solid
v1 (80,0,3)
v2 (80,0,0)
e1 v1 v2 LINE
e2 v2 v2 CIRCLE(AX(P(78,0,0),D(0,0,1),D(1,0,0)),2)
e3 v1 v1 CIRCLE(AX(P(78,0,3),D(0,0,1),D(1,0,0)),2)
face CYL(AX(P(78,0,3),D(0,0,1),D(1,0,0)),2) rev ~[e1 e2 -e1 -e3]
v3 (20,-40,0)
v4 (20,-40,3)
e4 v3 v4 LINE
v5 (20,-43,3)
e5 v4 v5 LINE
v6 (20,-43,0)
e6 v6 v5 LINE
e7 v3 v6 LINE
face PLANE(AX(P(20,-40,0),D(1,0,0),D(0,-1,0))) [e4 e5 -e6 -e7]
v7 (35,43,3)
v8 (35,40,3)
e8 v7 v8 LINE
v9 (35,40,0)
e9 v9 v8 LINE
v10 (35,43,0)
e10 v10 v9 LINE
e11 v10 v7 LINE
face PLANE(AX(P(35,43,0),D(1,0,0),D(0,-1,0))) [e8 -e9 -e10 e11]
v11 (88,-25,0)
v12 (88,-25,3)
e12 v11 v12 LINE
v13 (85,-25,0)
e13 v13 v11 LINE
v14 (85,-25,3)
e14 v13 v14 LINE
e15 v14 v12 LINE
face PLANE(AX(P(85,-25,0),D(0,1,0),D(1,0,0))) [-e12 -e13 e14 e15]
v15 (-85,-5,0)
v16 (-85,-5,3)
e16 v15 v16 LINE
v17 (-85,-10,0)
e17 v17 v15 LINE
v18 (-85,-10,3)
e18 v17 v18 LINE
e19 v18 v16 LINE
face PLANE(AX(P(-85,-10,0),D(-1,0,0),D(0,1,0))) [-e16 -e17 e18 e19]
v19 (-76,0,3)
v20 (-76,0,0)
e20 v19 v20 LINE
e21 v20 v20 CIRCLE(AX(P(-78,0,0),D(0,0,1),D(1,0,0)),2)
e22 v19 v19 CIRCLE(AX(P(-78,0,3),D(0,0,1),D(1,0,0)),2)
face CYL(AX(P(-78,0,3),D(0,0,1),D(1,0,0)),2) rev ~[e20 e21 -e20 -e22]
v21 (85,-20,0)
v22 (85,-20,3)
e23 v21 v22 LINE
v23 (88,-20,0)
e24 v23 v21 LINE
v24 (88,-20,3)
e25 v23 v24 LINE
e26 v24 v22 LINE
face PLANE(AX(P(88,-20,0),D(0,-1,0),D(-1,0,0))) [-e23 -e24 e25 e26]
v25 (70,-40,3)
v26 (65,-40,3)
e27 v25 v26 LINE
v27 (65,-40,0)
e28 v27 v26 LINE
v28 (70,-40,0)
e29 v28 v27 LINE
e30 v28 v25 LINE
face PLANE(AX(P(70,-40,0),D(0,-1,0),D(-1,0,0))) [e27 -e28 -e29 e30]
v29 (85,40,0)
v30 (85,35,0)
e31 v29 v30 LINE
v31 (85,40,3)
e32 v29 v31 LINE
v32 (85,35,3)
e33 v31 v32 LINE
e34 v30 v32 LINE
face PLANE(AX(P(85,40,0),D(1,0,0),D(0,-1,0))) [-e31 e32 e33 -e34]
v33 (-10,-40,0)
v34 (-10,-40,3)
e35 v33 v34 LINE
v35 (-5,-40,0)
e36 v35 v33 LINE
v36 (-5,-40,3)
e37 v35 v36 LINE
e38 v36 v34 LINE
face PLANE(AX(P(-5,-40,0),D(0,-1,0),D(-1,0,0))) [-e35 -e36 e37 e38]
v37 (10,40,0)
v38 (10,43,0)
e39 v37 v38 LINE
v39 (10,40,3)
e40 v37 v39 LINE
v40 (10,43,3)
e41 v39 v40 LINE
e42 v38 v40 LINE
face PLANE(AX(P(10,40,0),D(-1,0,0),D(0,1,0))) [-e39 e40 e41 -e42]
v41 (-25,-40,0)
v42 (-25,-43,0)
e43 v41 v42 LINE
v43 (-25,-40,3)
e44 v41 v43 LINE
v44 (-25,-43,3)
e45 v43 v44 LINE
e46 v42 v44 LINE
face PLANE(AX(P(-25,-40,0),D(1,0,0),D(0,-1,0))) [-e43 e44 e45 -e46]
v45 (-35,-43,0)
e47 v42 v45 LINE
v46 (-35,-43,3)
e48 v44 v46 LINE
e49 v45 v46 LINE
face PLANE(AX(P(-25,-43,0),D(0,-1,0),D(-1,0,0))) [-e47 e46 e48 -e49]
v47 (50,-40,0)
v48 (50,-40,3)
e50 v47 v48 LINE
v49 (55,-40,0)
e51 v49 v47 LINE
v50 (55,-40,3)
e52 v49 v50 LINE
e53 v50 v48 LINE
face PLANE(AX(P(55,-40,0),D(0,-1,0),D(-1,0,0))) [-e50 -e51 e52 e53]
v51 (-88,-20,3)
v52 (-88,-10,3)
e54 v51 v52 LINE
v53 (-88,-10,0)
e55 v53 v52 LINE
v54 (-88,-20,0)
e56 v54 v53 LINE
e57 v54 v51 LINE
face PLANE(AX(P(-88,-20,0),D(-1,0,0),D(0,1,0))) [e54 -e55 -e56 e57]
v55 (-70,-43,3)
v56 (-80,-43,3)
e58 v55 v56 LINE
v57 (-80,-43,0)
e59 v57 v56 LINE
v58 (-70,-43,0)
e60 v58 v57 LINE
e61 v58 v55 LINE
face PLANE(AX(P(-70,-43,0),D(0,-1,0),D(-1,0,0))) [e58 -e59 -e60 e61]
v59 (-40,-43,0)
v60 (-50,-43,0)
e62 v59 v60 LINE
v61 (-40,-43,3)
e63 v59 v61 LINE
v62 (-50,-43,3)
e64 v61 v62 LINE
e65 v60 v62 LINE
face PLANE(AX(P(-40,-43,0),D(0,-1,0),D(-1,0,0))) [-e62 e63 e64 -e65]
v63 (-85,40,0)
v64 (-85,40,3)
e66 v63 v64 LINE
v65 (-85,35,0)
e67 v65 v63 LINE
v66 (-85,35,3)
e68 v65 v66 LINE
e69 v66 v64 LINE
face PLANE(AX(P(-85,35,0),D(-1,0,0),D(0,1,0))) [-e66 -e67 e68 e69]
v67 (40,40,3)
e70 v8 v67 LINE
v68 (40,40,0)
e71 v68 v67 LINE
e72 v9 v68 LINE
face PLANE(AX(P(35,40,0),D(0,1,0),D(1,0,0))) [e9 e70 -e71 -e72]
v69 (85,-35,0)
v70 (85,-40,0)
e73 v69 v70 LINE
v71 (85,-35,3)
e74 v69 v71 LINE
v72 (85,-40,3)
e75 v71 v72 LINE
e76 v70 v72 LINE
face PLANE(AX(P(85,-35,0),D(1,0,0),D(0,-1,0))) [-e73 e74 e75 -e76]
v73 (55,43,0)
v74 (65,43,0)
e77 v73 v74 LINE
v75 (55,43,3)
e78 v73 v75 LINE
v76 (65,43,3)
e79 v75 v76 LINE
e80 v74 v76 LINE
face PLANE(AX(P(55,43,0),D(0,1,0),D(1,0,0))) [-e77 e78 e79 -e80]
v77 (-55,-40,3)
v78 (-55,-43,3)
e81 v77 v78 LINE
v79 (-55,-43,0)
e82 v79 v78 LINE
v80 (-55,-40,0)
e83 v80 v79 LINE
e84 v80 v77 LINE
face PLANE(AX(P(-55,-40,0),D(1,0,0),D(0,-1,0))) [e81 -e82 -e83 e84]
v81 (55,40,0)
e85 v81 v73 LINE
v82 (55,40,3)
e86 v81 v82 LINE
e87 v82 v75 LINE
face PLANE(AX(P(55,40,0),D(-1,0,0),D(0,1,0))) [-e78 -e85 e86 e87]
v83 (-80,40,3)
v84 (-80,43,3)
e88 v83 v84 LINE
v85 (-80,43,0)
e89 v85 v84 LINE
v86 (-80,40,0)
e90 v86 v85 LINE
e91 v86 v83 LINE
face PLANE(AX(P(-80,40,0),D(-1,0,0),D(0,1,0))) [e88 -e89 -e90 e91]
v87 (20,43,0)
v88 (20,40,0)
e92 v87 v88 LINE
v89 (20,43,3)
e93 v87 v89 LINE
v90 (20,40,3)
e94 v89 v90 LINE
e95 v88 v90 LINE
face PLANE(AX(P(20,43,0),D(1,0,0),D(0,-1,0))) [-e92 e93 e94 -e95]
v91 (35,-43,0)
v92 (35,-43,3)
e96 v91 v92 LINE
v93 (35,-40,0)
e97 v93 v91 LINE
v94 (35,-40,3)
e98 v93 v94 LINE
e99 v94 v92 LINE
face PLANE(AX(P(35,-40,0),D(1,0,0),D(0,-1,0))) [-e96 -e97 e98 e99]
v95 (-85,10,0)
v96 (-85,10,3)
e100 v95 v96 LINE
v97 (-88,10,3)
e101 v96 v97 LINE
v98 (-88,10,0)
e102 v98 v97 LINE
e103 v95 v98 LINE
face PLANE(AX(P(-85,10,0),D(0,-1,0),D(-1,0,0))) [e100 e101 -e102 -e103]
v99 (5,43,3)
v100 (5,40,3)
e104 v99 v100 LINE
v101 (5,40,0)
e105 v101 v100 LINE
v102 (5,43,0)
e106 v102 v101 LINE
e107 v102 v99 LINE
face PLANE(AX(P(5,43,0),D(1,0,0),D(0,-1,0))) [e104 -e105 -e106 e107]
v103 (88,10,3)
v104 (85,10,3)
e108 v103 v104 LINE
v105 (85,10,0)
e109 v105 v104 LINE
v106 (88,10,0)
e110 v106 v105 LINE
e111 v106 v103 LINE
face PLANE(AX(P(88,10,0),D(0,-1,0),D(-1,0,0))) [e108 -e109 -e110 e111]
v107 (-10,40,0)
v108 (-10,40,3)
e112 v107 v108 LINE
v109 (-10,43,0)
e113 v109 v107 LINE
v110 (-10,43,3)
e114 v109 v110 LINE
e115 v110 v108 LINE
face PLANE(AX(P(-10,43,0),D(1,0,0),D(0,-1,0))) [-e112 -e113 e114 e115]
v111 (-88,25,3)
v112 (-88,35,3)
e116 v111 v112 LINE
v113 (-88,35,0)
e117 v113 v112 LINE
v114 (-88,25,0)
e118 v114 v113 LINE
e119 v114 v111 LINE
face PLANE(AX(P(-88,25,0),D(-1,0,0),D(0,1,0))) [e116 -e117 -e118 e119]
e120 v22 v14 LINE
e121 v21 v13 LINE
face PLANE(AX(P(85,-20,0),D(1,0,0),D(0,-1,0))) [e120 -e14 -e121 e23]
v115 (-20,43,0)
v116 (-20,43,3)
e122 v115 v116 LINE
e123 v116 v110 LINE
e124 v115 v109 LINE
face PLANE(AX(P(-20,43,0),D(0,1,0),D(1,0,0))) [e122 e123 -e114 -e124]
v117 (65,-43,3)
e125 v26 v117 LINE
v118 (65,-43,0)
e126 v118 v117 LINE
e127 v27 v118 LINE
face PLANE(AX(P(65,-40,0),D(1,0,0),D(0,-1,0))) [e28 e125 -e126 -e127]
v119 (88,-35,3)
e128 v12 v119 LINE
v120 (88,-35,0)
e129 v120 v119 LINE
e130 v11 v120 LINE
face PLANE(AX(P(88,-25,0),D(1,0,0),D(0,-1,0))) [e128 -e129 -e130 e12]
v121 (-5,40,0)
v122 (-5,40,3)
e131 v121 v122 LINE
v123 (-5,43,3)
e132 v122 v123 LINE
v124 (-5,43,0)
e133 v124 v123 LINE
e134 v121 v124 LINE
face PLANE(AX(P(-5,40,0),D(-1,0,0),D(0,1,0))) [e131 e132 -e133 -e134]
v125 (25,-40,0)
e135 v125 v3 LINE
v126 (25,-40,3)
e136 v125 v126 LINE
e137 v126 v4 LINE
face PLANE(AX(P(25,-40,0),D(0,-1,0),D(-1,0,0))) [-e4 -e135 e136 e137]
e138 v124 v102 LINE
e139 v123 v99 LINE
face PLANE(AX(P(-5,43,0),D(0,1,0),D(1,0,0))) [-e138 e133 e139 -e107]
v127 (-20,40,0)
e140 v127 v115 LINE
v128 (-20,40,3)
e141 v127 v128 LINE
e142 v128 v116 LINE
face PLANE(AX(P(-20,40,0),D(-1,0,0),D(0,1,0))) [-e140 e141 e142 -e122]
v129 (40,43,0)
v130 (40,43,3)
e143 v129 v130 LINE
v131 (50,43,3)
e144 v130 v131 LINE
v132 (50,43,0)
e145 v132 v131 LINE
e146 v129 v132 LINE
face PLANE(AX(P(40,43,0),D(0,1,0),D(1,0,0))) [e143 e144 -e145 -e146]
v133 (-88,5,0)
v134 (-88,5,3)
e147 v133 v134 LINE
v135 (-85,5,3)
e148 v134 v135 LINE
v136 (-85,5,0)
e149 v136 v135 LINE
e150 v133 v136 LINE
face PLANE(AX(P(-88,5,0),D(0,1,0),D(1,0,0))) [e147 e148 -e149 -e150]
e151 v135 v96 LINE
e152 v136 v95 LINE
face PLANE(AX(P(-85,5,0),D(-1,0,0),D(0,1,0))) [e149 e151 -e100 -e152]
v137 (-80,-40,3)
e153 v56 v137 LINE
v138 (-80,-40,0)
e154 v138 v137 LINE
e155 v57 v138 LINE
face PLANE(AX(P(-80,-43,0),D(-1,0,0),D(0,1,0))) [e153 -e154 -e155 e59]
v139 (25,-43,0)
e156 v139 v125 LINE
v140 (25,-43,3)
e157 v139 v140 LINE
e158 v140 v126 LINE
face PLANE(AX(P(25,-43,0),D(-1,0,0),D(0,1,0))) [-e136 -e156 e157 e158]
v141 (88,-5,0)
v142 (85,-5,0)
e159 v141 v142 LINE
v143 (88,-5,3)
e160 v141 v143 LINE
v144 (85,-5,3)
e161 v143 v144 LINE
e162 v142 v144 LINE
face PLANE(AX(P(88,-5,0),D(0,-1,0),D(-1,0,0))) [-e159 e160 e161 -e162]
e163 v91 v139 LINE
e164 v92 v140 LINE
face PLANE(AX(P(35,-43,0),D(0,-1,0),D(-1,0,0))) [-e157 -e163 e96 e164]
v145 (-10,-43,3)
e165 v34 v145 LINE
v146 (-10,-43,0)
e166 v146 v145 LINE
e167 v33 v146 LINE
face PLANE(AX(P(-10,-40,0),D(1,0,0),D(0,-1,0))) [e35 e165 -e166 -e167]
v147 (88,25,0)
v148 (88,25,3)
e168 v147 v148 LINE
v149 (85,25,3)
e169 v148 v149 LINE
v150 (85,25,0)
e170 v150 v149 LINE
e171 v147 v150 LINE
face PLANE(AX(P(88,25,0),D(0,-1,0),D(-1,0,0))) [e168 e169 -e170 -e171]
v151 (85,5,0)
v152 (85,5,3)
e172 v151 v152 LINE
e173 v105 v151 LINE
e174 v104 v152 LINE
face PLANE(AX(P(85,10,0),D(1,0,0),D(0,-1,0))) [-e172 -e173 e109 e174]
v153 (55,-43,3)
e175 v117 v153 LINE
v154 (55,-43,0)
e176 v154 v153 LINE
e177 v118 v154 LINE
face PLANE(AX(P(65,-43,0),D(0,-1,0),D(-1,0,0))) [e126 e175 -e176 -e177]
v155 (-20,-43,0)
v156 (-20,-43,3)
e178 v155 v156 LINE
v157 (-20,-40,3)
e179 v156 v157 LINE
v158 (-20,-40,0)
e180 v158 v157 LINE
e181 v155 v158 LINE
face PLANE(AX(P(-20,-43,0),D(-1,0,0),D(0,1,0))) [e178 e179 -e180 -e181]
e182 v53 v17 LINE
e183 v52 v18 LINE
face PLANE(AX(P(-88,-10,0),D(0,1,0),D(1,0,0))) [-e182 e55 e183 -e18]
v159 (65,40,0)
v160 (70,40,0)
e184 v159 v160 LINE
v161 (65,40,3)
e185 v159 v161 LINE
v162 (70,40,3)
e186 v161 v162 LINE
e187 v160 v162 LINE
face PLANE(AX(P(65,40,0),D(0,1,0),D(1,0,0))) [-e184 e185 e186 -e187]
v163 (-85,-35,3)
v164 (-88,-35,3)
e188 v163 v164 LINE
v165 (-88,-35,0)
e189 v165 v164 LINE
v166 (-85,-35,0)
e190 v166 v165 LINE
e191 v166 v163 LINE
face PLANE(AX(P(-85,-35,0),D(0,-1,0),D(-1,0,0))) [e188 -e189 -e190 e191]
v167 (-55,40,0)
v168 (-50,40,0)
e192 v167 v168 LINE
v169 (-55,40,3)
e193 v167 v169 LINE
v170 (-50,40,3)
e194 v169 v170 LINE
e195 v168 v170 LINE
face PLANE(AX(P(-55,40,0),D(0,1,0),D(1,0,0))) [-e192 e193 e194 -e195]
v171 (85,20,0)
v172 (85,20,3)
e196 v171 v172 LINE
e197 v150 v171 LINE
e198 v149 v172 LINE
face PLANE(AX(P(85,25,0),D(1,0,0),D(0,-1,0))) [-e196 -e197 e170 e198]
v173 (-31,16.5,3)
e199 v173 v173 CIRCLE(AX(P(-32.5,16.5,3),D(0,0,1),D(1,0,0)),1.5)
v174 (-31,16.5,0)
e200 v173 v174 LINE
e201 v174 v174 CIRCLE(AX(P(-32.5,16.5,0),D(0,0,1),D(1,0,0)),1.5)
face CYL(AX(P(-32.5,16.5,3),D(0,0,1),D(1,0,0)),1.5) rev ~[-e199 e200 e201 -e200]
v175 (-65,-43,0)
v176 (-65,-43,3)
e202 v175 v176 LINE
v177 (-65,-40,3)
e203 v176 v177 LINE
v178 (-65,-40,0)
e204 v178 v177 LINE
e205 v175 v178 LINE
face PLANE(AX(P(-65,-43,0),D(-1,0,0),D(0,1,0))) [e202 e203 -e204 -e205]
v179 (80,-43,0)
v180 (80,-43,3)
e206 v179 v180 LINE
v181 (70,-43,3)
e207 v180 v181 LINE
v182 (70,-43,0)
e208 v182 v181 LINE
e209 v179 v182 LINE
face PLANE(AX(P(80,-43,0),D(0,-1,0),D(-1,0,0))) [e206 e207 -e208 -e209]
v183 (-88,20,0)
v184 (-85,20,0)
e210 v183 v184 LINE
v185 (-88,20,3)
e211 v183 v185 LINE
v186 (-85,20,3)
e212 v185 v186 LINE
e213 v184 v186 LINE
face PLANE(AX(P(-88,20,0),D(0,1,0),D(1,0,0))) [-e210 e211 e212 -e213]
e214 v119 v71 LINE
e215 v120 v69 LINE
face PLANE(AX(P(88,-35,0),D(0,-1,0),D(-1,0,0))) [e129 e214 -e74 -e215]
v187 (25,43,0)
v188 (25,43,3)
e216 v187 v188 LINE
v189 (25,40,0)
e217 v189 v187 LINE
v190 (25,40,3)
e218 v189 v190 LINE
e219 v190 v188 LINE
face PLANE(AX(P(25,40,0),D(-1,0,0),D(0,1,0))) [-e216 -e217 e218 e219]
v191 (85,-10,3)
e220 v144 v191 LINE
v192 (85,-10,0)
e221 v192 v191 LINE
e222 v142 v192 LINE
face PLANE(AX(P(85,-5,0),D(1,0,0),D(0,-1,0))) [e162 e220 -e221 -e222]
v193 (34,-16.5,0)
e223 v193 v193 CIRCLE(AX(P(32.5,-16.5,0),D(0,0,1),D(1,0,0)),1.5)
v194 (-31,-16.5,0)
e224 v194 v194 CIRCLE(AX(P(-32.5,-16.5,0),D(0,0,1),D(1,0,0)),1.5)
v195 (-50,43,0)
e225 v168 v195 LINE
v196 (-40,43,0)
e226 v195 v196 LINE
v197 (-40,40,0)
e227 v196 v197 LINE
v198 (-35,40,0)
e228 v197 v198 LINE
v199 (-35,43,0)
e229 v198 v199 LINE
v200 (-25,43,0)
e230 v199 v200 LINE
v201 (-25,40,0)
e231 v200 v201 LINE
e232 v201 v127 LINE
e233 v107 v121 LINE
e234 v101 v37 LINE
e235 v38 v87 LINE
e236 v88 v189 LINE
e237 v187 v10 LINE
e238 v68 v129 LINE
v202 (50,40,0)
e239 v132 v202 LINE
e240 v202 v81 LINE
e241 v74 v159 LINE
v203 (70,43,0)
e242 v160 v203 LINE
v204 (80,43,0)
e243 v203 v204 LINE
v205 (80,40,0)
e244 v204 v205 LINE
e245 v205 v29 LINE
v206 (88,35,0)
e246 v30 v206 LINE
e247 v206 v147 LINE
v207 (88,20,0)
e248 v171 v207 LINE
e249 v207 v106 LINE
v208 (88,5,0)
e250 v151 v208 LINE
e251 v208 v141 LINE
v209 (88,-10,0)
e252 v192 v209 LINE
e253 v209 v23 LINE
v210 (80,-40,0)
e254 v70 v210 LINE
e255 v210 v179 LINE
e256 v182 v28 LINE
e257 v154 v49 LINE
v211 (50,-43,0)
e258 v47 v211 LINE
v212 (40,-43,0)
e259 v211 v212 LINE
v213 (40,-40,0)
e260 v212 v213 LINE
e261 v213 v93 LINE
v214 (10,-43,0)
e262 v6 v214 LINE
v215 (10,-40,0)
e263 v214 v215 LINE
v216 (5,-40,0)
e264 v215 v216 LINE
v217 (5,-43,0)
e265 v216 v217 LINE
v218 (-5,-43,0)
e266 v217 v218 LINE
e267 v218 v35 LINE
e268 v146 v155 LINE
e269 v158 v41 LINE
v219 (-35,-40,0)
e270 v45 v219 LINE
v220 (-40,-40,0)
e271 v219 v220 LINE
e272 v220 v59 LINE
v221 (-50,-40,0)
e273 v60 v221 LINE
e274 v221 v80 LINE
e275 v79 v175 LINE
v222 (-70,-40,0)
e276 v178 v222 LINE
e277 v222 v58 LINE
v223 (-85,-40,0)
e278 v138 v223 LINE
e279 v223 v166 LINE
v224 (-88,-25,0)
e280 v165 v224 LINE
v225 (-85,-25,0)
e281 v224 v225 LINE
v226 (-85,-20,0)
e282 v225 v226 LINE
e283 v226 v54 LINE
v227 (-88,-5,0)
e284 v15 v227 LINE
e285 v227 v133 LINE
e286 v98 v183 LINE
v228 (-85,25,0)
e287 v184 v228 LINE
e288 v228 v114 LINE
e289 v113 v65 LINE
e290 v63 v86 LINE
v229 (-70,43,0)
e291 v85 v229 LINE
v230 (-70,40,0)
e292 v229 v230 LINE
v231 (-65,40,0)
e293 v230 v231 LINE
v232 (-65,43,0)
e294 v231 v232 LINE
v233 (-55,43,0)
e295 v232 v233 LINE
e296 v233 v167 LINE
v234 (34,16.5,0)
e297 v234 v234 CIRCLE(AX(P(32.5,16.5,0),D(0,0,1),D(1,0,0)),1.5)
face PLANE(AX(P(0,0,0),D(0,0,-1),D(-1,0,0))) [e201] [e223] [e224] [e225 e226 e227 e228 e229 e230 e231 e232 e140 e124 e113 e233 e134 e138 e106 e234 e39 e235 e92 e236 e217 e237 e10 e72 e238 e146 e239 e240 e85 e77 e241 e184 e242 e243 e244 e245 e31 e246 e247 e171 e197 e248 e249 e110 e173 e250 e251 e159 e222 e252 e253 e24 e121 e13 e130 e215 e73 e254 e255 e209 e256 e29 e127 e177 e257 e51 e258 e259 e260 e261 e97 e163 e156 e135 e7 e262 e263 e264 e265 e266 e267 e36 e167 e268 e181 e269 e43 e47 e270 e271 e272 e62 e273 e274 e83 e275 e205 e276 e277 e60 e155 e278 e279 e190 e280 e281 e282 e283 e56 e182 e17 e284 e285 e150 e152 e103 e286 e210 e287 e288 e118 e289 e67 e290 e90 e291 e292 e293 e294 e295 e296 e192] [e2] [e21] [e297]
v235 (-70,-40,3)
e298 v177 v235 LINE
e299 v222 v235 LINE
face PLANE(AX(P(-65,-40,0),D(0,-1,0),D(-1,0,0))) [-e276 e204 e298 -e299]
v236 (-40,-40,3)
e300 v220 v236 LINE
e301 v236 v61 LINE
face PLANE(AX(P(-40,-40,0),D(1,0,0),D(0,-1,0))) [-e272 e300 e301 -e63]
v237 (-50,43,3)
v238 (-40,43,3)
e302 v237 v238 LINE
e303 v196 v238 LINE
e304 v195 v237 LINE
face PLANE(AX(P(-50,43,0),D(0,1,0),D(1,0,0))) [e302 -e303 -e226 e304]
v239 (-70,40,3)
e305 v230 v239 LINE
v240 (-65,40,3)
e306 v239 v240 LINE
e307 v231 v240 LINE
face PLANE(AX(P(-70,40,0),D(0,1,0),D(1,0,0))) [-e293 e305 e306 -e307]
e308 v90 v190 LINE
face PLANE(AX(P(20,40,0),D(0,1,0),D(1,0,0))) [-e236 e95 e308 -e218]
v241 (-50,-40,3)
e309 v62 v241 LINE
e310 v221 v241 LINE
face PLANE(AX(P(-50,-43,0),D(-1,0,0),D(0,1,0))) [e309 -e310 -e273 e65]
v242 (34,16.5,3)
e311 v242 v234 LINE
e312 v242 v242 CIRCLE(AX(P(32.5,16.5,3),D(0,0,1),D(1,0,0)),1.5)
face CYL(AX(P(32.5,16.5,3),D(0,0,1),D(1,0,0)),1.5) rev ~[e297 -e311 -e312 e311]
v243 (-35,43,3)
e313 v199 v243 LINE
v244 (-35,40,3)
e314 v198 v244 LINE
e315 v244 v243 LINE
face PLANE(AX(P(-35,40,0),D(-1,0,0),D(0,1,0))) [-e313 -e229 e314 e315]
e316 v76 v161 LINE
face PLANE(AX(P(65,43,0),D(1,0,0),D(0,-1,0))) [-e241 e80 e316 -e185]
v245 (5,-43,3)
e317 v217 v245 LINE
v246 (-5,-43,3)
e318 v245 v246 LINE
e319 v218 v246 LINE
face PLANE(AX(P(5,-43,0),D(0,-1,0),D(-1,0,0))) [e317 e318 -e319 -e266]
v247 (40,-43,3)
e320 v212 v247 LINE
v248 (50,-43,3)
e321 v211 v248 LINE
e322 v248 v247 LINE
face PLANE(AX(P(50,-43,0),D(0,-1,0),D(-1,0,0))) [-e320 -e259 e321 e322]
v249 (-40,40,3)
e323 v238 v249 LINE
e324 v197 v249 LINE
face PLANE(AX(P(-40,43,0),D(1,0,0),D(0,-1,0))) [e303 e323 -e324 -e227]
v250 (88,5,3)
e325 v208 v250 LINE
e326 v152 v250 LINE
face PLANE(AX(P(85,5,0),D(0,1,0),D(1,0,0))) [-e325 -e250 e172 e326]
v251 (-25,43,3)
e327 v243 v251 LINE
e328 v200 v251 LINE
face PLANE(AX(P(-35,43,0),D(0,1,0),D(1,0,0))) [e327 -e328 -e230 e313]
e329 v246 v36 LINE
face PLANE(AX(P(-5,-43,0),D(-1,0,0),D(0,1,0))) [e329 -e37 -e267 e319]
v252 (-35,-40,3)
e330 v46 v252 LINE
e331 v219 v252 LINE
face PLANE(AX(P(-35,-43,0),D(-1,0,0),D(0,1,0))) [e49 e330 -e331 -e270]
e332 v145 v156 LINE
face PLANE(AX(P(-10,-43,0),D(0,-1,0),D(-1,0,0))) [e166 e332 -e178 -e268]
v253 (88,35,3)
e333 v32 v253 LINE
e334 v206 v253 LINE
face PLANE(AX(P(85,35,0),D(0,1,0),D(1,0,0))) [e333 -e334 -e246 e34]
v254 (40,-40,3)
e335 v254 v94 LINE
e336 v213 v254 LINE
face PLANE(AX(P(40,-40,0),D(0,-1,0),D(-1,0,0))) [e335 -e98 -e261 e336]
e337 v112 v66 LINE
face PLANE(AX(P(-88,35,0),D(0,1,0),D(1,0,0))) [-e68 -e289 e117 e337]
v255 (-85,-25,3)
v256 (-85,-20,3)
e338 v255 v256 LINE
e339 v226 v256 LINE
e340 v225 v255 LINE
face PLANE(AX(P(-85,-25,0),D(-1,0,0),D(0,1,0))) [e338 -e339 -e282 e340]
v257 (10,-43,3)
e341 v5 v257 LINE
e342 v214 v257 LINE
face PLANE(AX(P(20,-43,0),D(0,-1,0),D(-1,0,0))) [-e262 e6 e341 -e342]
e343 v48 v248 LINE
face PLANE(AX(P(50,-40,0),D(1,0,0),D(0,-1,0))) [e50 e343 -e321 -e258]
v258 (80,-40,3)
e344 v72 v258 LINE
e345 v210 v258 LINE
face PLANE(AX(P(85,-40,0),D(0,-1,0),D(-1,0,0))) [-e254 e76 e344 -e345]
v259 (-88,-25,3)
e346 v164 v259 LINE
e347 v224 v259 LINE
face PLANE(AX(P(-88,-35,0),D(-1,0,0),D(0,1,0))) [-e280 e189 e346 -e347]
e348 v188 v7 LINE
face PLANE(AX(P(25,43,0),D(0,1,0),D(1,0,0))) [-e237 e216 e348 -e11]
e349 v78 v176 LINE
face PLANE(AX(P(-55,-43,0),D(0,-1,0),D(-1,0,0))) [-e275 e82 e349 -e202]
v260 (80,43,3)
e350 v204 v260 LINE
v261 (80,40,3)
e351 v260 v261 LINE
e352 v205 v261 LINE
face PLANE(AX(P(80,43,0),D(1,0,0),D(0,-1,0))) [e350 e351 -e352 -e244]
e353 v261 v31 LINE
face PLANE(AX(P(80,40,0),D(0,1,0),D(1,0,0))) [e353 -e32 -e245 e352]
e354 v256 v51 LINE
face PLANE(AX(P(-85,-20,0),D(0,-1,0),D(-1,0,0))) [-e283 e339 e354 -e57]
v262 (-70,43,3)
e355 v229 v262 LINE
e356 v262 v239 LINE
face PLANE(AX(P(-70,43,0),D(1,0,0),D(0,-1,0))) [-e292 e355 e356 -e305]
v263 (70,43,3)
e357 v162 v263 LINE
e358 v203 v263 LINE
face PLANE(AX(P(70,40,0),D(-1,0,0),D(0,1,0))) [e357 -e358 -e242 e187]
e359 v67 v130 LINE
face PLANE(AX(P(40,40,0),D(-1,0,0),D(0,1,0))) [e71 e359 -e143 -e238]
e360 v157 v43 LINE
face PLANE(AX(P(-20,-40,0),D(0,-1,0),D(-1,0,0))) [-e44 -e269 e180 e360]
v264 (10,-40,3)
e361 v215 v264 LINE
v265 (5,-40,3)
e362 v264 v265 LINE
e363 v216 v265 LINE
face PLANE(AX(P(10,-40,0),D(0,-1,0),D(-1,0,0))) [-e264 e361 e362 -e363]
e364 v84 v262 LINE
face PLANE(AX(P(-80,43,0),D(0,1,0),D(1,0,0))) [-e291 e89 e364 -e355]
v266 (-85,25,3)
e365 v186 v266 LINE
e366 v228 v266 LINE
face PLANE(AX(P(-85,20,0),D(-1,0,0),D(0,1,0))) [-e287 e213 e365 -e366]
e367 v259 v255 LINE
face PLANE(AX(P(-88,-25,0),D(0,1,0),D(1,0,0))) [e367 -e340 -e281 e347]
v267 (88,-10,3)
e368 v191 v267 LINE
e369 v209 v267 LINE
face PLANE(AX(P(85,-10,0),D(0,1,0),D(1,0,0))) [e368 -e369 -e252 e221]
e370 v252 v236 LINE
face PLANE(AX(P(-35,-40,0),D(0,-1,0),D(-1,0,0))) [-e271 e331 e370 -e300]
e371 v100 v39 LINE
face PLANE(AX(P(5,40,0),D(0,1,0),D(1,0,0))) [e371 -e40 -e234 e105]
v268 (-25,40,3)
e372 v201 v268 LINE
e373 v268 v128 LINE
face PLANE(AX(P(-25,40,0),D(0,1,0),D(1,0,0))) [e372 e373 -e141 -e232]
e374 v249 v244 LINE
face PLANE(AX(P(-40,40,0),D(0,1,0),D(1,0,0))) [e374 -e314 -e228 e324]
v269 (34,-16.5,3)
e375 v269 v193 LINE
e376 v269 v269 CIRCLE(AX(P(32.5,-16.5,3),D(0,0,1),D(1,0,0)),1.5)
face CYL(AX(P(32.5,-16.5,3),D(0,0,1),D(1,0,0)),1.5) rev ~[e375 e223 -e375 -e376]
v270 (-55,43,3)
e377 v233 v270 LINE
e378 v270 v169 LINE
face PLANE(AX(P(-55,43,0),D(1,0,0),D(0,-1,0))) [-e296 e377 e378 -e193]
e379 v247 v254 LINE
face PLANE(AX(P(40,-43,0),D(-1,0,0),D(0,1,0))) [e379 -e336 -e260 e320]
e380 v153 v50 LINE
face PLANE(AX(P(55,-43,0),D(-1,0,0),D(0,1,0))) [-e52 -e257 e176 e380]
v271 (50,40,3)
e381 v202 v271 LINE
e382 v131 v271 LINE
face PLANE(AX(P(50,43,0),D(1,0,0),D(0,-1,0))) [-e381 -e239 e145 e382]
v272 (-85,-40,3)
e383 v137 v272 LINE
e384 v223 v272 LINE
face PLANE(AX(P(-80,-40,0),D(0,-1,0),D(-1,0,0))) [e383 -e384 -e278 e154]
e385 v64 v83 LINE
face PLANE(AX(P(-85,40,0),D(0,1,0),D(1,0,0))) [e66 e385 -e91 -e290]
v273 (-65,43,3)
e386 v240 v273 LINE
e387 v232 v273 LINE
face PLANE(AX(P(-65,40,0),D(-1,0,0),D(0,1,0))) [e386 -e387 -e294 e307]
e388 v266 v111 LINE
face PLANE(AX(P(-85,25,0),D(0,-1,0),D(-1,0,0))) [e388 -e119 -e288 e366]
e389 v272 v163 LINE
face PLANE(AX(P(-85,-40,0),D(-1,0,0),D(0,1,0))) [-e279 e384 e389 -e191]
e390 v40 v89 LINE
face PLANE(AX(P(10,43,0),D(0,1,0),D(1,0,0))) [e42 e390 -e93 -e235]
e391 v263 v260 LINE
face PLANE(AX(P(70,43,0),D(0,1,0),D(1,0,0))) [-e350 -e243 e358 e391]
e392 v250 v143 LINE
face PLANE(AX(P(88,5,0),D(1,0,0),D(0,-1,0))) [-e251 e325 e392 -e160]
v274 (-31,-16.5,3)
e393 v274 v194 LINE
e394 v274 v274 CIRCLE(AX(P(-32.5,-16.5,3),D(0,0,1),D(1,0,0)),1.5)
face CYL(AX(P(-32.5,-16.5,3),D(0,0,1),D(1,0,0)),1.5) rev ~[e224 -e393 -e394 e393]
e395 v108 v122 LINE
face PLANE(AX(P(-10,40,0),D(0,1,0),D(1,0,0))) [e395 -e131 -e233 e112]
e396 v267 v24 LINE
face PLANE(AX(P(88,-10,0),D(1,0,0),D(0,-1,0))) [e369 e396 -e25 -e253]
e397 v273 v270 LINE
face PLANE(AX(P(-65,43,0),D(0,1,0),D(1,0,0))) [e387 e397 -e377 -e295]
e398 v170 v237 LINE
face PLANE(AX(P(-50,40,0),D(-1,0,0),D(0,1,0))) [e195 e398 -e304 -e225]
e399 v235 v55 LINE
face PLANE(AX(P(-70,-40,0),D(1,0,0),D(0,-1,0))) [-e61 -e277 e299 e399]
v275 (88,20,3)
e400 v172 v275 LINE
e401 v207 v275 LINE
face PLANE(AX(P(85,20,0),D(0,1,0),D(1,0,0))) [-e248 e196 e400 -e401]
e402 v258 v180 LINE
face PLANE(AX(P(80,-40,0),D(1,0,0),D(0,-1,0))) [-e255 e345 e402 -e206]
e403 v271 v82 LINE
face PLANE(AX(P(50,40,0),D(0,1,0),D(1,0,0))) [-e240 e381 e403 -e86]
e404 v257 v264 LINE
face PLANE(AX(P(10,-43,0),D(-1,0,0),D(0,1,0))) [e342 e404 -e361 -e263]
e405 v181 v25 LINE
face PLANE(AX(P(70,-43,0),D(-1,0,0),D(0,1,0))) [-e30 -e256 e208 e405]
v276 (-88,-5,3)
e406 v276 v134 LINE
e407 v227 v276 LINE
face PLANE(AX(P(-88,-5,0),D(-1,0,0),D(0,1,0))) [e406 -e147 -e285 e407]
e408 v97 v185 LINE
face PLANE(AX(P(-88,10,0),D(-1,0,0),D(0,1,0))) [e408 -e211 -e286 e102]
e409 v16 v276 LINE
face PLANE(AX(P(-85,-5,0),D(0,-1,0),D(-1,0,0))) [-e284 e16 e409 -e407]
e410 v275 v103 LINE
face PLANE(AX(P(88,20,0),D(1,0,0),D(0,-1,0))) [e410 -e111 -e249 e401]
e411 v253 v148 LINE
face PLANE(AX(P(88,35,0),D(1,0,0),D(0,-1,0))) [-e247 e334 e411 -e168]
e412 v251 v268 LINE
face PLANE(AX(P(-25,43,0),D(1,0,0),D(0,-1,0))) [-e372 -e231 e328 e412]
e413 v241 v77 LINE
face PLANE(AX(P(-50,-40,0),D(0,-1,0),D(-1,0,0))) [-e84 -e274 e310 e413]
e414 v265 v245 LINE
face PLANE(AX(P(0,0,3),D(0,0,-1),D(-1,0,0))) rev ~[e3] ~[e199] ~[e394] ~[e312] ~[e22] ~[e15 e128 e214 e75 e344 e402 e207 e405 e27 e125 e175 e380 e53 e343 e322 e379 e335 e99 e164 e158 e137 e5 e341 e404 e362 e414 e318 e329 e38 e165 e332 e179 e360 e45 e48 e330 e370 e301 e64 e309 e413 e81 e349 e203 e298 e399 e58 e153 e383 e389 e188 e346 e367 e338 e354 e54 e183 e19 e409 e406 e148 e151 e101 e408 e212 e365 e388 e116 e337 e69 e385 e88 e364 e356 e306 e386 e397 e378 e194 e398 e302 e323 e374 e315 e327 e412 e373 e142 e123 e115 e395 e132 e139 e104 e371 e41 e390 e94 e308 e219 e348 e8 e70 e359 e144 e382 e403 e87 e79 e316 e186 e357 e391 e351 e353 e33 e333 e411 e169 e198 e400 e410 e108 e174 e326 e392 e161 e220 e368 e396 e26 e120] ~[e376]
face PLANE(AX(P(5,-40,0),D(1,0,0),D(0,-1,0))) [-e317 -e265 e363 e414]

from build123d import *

# Parameters (mm, degrees)
EXTRUDE_1_DEPTH     = 3
SKETCH_3_R          = 1.5
CUT_EXTRUDE_2_DEPTH = 3
SKETCH_4_R          = 2
CUT_EXTRUDE_3_DEPTH = 3


with BuildPart() as part:
    # 草图2 → 凸台-拉伸1 (new body)
    with BuildSketch(Plane.XY):
        Polygon((-85, 40), (-80, 40), (-80, 43), (-70, 43), (-70, 40), (-65, 40), (-65, 43), (-55, 43), (-55, 40), (-50, 40), (-50, 43), (-40, 43), (-40, 40), (-35, 40), (-35, 43), (-25, 43), (-25, 40), (-20, 40), (-20, 43), (-10, 43), (-10, 40), (-5, 40), (-5, 43), (5, 43), (5, 40), (10, 40), (10, 43), (20, 43), (20, 40), (25, 40), (25, 43), (35, 43), (35, 40), (40, 40), (40, 43), (50, 43), (50, 40), (55, 40), (55, 43), (65, 43), (65, 40), (70, 40), (70, 43), (80, 43), (80, 40), (85, 40), (85, 35), (88, 35), (88, 25), (85, 25), (85, 20), (88, 20), (88, 10), (85, 10), (85, 5), (88, 5), (88, -5), (85, -5), (85, -10), (88, -10), (88, -20), (85, -20), (85, -25), (88, -25), (88, -35), (85, -35), (85, -40), (80, -40), (80, -43), (70, -43), (70, -40), (65, -40), (65, -43), (55, -43), (55, -40), (50, -40), (50, -43), (40, -43), (40, -40), (35, -40), (35, -43), (25, -43), (25, -40), (20, -40), (20, -43), (10, -43), (10, -40), (5, -40), (5, -43), (-5, -43), (-5, -40), (-10, -40), (-10, -43), (-20, -43), (-20, -40), (-25, -40), (-25, -43), (-35, -43), (-35, -40), (-40, -40), (-40, -43), (-50, -43), (-50, -40), (-55, -40), (-55, -43), (-65, -43), (-65, -40), (-70, -40), (-70, -43), (-80, -43), (-80, -40), (-85, -40), (-85, -35), (-88, -35), (-88, -25), (-85, -25), (-85, -20), (-88, -20), (-88, -10), (-85, -10), (-85, -5), (-88, -5), (-88, 5), (-85, 5), (-85, 10), (-88, 10), (-88, 20), (-85, 20), (-85, 25), (-88, 25), (-88, 35), (-85, 35), align=None)
    extrude(amount=EXTRUDE_1_DEPTH)

    # 草图3 → 切除-拉伸2 (cut)
    with BuildSketch(Plane.XY.offset(3)):
        with Locations((-32.5, 16.5)):
            Circle(SKETCH_3_R)
        with Locations((32.5, 16.5)):
            Circle(SKETCH_3_R)
        with Locations((32.5, -16.5)):
            Circle(SKETCH_3_R)
        with Locations((-32.5, -16.5)):
            Circle(SKETCH_3_R)
    extrude(amount=-CUT_EXTRUDE_2_DEPTH, mode=Mode.SUBTRACT)

    # 草图4 → 切除-拉伸3 (cut)
    with BuildSketch(Plane.XY.offset(3)):
        with Locations((78, 0)):
            Circle(SKETCH_4_R)
        with Locations((-78, 0)):
            Circle(SKETCH_4_R)
    extrude(amount=-CUT_EXTRUDE_3_DEPTH, mode=Mode.SUBTRACT)


solid = part.part
